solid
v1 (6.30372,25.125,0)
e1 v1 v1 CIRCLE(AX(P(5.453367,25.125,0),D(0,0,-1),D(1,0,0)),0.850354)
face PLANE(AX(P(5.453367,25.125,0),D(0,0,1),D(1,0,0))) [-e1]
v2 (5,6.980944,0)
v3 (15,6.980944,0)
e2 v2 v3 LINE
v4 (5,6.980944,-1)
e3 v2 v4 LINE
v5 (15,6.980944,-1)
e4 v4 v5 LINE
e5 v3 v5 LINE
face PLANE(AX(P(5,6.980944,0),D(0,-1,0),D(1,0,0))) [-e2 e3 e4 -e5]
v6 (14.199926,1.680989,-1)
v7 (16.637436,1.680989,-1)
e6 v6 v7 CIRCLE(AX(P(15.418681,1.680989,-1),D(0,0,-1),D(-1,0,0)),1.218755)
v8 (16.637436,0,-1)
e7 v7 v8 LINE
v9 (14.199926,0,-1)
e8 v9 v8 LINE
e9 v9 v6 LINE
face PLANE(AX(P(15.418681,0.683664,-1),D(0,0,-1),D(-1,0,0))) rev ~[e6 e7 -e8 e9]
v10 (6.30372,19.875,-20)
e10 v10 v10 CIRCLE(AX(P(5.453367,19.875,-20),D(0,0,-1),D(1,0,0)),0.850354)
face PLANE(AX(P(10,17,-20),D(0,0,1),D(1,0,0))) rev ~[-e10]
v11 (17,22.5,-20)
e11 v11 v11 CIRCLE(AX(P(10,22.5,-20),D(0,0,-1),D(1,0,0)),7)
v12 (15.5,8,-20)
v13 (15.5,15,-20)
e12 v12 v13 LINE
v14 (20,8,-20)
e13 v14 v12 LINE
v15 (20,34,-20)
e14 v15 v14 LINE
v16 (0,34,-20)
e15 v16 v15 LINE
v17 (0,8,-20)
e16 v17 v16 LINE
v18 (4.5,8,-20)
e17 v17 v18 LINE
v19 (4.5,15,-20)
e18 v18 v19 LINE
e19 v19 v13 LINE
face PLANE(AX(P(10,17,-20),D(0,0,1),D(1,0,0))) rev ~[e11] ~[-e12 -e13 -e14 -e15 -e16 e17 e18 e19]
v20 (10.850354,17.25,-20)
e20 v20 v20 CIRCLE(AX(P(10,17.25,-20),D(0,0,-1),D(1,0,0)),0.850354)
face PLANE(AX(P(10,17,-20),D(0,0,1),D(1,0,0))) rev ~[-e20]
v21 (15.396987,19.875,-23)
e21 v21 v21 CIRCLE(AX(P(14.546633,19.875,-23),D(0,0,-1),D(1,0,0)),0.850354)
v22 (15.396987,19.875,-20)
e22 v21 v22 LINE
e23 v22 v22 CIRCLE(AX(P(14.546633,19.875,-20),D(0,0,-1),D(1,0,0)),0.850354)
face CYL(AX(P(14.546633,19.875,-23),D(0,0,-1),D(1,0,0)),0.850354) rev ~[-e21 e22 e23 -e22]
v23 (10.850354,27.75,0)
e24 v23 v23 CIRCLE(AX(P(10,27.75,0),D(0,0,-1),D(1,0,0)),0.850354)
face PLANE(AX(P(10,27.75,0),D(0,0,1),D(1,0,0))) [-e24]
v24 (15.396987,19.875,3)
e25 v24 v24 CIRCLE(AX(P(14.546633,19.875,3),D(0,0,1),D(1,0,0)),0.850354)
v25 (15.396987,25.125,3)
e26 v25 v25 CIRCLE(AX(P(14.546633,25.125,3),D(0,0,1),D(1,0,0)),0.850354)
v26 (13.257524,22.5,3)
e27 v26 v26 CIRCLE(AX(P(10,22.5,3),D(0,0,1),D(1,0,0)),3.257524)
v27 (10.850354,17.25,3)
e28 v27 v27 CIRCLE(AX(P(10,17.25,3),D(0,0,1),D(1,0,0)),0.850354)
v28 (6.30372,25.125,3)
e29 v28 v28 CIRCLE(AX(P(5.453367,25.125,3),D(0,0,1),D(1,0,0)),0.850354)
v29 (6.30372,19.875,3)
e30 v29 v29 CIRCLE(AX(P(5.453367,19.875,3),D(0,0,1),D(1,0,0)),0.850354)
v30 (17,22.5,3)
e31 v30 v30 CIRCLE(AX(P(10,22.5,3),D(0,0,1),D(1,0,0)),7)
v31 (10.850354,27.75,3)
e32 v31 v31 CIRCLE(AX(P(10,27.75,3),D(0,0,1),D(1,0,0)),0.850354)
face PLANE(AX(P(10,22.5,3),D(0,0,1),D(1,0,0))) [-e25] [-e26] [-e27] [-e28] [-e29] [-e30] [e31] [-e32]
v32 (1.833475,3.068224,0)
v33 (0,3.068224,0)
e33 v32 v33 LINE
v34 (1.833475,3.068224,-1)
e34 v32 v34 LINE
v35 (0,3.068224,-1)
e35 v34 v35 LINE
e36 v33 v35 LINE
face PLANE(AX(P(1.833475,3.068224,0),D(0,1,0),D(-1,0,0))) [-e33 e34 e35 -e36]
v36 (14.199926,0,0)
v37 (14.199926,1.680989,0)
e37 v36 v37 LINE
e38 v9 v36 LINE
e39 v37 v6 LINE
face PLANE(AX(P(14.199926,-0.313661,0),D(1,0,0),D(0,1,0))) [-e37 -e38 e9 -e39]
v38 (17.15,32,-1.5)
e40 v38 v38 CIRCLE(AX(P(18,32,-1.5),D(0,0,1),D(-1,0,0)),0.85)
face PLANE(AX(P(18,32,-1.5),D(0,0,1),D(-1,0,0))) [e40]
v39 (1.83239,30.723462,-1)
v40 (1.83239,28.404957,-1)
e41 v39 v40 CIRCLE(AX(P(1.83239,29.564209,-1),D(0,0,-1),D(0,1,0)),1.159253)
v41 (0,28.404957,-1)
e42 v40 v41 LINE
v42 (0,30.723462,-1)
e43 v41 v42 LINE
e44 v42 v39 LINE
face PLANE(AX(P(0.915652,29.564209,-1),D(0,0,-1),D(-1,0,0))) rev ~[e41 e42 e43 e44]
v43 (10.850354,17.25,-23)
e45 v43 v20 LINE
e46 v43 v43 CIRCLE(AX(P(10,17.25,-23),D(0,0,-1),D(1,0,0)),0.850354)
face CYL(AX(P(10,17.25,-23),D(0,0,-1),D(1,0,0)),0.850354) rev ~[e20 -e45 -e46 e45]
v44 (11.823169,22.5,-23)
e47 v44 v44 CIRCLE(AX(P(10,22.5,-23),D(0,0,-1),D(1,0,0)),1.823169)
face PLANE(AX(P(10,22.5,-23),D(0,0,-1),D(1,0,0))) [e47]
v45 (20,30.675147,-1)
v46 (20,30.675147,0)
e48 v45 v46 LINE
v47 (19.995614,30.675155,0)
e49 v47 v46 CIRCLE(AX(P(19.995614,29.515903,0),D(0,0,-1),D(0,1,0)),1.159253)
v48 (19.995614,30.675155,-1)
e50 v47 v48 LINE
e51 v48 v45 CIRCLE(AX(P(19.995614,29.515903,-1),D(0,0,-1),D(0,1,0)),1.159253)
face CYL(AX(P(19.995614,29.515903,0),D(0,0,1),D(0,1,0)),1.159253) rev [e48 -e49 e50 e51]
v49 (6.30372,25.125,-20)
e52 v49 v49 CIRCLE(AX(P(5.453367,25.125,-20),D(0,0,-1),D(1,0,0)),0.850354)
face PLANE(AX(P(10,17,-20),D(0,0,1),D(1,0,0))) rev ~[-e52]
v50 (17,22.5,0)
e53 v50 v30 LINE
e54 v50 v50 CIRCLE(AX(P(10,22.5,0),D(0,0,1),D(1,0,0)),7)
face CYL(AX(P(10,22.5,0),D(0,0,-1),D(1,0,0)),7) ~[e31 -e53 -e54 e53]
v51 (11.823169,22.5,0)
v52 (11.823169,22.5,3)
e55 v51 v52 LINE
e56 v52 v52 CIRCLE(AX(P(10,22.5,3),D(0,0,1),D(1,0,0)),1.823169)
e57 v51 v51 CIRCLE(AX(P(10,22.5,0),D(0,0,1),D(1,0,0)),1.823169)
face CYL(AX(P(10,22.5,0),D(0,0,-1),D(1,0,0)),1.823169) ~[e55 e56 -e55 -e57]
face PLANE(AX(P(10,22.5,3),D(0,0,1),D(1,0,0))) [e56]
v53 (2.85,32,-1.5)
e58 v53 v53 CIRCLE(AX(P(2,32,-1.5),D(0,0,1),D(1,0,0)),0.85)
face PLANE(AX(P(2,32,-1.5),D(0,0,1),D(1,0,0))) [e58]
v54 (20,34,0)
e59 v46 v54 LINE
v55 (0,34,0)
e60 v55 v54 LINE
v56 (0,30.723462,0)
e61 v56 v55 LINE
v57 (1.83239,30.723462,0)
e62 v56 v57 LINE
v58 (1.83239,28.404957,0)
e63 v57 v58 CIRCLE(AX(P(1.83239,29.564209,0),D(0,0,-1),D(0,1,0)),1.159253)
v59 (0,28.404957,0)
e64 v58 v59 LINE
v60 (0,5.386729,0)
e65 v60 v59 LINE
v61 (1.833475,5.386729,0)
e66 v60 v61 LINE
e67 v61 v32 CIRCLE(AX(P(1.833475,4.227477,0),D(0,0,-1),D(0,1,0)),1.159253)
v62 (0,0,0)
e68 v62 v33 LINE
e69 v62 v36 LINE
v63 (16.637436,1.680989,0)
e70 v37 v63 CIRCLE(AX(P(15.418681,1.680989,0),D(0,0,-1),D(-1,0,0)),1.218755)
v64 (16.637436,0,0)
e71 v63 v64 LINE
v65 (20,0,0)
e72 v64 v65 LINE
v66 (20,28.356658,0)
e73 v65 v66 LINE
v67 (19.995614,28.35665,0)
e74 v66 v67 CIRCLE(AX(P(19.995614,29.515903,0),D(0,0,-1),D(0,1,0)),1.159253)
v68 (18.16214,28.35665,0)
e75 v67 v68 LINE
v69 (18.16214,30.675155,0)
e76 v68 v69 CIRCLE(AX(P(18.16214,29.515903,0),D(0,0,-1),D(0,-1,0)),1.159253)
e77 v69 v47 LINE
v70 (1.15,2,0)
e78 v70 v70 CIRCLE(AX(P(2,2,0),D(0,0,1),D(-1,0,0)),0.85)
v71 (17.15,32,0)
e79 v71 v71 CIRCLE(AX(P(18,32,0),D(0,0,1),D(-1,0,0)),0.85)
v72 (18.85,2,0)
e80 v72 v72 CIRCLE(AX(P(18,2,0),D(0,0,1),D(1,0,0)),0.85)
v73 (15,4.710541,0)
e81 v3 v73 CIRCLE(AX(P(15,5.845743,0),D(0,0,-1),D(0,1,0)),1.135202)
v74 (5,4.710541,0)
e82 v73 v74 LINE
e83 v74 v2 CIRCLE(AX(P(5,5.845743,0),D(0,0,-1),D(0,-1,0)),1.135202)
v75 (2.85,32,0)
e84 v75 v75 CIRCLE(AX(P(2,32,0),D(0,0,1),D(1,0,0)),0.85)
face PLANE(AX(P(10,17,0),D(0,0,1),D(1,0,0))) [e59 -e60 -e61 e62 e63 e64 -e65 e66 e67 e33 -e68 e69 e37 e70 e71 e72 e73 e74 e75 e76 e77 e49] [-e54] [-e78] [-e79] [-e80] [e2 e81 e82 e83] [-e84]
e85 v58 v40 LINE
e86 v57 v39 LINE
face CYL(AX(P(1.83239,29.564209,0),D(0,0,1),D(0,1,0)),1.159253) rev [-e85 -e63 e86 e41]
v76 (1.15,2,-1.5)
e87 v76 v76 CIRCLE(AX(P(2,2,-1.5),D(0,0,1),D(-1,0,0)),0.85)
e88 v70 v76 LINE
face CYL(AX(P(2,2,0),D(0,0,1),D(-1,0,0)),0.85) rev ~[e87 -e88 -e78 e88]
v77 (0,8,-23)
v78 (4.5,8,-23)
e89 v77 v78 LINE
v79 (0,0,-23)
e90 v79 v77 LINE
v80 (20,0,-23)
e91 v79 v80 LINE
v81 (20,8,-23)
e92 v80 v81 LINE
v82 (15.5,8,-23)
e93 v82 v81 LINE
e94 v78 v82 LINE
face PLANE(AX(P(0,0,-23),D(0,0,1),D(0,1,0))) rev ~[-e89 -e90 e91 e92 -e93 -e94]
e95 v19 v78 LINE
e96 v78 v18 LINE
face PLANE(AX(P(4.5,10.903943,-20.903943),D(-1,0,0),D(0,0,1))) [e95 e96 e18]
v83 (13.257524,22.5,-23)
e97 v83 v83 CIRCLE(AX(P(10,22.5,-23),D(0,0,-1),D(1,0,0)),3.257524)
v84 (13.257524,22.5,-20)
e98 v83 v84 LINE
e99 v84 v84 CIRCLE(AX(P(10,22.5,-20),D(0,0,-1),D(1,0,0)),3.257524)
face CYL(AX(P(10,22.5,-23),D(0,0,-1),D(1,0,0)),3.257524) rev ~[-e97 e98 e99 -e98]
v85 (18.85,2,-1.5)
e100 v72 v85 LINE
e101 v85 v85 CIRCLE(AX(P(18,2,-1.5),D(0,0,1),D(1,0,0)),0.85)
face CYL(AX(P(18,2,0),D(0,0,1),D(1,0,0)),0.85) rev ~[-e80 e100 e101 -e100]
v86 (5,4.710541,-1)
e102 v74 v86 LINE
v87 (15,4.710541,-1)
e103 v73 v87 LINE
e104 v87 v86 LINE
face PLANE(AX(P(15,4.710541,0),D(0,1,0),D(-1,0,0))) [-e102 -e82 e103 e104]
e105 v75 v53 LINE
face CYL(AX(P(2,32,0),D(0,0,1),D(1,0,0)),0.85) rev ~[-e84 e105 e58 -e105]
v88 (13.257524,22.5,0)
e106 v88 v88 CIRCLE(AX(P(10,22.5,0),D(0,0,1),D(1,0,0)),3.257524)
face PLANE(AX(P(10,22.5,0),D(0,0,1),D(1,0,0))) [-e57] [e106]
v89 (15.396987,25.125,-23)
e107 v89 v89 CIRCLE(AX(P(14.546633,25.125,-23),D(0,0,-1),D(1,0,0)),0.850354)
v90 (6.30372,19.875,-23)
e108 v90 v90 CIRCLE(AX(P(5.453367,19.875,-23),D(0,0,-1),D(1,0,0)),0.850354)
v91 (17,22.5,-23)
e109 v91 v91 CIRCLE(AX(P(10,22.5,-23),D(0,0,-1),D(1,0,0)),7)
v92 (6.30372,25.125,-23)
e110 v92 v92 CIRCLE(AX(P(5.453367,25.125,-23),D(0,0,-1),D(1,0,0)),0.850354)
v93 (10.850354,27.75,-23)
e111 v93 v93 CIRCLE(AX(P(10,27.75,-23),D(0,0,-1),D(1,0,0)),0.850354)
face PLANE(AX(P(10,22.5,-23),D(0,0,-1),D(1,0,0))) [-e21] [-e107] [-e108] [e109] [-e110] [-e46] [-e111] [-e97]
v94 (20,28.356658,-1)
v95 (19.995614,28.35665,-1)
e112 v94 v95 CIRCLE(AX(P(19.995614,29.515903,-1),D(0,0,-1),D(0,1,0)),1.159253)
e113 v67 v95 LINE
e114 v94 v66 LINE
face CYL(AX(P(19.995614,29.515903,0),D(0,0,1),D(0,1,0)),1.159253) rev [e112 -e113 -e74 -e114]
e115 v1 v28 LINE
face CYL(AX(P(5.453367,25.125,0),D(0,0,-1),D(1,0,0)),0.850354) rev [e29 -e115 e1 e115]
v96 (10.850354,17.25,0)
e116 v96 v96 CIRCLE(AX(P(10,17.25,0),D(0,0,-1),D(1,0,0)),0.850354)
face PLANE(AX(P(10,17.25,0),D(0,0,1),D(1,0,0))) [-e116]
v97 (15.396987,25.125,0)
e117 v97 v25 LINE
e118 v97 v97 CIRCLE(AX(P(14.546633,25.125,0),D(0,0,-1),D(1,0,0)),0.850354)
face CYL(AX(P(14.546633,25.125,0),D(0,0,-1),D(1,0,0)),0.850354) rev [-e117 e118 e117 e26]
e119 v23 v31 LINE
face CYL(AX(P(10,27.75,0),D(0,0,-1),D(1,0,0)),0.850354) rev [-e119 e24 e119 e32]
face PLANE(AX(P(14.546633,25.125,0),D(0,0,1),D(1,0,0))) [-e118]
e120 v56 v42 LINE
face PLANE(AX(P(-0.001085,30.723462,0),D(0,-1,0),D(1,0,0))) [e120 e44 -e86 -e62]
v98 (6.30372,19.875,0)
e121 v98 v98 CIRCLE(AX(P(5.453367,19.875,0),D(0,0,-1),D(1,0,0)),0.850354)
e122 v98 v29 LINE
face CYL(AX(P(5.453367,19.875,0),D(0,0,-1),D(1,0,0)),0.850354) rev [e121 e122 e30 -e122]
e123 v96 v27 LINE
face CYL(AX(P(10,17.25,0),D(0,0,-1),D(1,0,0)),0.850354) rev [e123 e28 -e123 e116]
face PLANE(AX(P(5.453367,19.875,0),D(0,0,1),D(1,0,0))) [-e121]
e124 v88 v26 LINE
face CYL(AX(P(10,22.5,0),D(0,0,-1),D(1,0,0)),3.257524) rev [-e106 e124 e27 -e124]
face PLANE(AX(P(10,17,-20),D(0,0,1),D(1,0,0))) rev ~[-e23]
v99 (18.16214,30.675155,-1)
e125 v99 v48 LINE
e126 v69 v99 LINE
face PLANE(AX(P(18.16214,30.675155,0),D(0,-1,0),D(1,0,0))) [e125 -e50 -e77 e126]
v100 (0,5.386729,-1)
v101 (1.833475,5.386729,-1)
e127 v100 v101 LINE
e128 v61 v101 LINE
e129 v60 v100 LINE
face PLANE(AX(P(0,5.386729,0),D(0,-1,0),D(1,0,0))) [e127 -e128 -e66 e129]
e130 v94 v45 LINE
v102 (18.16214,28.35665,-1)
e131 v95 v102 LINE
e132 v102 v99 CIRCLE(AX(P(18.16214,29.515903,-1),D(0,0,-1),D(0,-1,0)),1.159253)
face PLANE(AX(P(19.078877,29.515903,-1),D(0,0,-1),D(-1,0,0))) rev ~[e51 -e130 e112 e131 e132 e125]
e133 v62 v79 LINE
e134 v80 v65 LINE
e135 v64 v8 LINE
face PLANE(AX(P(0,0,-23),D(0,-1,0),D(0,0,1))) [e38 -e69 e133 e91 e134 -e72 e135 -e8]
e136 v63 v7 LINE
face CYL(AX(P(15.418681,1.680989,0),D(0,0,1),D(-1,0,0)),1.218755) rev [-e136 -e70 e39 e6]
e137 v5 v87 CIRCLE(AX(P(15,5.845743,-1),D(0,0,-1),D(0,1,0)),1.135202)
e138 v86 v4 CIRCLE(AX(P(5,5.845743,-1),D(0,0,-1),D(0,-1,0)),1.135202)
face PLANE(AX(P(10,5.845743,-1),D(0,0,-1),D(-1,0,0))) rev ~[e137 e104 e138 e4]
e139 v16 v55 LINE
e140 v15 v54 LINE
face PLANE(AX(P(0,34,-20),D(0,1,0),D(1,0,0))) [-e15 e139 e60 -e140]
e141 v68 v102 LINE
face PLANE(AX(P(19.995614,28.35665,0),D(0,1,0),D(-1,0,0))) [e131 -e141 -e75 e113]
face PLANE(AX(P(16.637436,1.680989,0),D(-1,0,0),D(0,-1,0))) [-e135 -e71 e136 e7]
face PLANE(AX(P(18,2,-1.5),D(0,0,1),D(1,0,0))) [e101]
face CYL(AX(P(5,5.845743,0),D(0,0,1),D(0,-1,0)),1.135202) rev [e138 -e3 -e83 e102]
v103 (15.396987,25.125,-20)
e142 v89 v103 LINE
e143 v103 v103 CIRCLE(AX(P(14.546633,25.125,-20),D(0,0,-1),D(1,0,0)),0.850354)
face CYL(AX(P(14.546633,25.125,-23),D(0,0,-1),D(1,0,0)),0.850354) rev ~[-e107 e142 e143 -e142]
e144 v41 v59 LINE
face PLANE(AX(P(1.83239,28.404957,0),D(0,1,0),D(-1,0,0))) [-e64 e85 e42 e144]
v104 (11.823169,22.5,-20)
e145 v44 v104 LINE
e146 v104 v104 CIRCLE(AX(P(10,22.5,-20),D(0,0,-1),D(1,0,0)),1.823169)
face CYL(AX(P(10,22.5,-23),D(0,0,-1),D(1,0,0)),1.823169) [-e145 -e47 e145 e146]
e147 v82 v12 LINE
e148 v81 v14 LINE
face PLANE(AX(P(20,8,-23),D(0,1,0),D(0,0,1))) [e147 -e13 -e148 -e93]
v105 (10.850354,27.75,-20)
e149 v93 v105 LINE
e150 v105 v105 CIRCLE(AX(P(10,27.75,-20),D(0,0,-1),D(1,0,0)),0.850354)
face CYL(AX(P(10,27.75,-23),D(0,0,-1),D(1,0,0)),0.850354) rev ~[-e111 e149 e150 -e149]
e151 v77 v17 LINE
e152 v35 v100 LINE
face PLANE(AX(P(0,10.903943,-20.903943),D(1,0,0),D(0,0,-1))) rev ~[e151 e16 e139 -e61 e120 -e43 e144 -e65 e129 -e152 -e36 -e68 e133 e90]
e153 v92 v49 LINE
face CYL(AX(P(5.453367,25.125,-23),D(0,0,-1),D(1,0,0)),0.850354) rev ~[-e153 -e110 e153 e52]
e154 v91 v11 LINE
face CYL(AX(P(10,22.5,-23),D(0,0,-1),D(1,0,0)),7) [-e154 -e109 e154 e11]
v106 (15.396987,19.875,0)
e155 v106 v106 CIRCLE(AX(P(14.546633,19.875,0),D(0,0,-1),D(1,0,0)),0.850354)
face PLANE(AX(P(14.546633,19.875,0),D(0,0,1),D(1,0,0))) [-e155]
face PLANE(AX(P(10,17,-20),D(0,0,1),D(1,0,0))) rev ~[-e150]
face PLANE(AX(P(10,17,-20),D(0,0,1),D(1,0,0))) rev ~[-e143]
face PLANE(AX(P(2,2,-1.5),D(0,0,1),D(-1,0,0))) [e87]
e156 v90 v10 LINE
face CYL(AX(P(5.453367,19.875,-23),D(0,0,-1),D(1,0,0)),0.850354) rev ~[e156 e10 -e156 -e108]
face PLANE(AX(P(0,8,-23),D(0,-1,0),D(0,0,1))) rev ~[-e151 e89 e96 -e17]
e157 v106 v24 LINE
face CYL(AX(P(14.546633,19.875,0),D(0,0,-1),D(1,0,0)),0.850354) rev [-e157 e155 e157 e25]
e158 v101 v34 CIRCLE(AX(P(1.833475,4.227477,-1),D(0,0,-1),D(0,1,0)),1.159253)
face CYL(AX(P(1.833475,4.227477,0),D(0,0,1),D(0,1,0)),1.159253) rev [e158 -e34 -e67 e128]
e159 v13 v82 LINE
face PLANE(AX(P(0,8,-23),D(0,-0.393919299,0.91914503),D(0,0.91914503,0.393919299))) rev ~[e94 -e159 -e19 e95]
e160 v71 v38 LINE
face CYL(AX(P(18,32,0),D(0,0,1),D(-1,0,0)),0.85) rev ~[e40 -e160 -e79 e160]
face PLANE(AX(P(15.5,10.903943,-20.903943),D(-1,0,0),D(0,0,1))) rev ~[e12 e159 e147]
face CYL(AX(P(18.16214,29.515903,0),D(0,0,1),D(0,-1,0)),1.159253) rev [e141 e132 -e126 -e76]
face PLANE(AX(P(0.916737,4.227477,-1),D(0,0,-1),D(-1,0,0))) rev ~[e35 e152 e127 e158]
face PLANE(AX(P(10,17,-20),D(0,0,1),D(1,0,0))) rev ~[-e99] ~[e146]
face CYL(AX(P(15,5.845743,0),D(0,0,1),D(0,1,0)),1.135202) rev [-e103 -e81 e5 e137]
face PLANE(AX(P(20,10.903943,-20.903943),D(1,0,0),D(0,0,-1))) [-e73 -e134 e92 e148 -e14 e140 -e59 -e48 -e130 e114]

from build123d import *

# Parameters (mm, degrees)
SKETCH_1_R          = 7
SKETCH_1_R_2        = 0.850353778
SKETCH_1_R_3        = 3.257524386
EXTRUDE_4_DEPTH     = 3
SKETCH_1_R_4        = 1.823169144
EXTRUDE_4_2_DEPTH   = 3
SKETCH_1_9_W        = 20
SKETCH_1_9_H        = 34
EXTRUDE_5_DEPTH     = 20
SKETCH_7_R          = 0.85
CUT_EXTRUDE_1_DEPTH = 1.5
SKETCH_8_W          = 3
SKETCH_8_H          = 8
EXTRUDE_6_DEPTH     = 20
EXTRUDE_7_DEPTH     = 20
CUT_EXTRUDE_2_DEPTH = 4.5
CUT_EXTRUDE_3_DEPTH = 4.5
EXTRUDE_START       = 3
SKETCH_14_R         = 7
SKETCH_14_R_2       = 0.850353778
SKETCH_14_R_3       = 3.257524386
SKETCH_14_R_4       = 1.823169144
EXTRUDE_8_DEPTH     = 3
CUT_EXTRUDE_4_DEPTH = 1


with BuildPart() as part:
    # 草图1 → 凸台-拉伸4 (new body)
    with BuildSketch(Plane.XY):
        with Locations((10, 22.5)):
            Circle(SKETCH_1_R)
        with Locations((10, 27.75)):
            Circle(SKETCH_1_R_2, mode=Mode.SUBTRACT)
        with Locations((5.45336663, 25.125)):
            Circle(SKETCH_1_R_2, mode=Mode.SUBTRACT)
        with Locations((5.45336663, 19.875)):
            Circle(SKETCH_1_R_2, mode=Mode.SUBTRACT)
        with Locations((10, 17.25)):
            Circle(SKETCH_1_R_2, mode=Mode.SUBTRACT)
        with Locations((14.54663337, 19.875)):
            Circle(SKETCH_1_R_2, mode=Mode.SUBTRACT)
        with Locations((14.54663337, 25.125)):
            Circle(SKETCH_1_R_2, mode=Mode.SUBTRACT)
        with Locations((10, 22.5)):
            Circle(SKETCH_1_R_3, mode=Mode.SUBTRACT)
    extrude(amount=EXTRUDE_4_DEPTH)



with BuildPart() as body_2:
    # 草图1 → Extrude 4 2 (new body)
    with BuildSketch(Plane.XY):
        with Locations((10, 22.5)):
            Circle(SKETCH_1_R_4)
    extrude(amount=EXTRUDE_4_2_DEPTH)


with BuildPart() as part_1:
    add(part.part)

    add(body_2.part)  # 凸台-拉伸5 merges body 2
    # 草图1<9> → 凸台-拉伸5 (add)
    with BuildSketch(Plane.XY):
        with Locations((10, 17)):
            Rectangle(SKETCH_1_9_W, SKETCH_1_9_H)
    extrude(amount=-EXTRUDE_5_DEPTH)

    # 草图7 → 切除-拉伸1 (cut)
    with BuildSketch(Plane.XY):
        with Locations((2, 32)):
            Circle(SKETCH_7_R)
        with Locations((18, 32)):
            Circle(SKETCH_7_R)
        with Locations((18, 2)):
            Circle(SKETCH_7_R)
        with Locations((2, 2)):
            Circle(SKETCH_7_R)
    extrude(amount=-CUT_EXTRUDE_1_DEPTH, mode=Mode.SUBTRACT)

    # 草图8 → 凸台-拉伸6 (add)
    with BuildSketch(Plane.ZY):
        with Locations((-21.5, 4)):
            Rectangle(SKETCH_8_W, SKETCH_8_H)
    extrude(amount=-EXTRUDE_6_DEPTH)

    # 草图11 → 凸台-拉伸7 (add)
    with BuildSketch(Plane.ZY):
        Polygon((-23, 8), (-20, 15), (-20, 8), align=None)
    extrude(amount=-EXTRUDE_7_DEPTH)

    # 草图12 → 切除-拉伸2 (cut)
    with BuildSketch(Plane.ZY):
        Polygon((-23, 8), (-20, 8), (-20, 15), align=None)
    extrude(amount=-CUT_EXTRUDE_2_DEPTH, mode=Mode.SUBTRACT)

    # 草图13 → 切除-拉伸3 (cut)
    with BuildSketch(Plane(origin=(20, 0, 0), x_dir=(0, 0, -1), z_dir=(1, 0, 0))):
        Polygon((23, 8), (20, 8), (20, 15), align=None)
    extrude(amount=-CUT_EXTRUDE_3_DEPTH, mode=Mode.SUBTRACT)

    # 草图14 → 凸台-拉伸8 (add)
    # profile 1 of 2: a face of its own
    with BuildSketch(Plane(origin=(0, 0, -20), x_dir=(-1, 0, 0), z_dir=(0, 0, -1)).offset(EXTRUDE_START)):
        with Locations((-10, 22.5)):
            Circle(SKETCH_14_R)
        with Locations((-10, 27.75)):
            Circle(SKETCH_14_R_2, mode=Mode.SUBTRACT)
        with Locations((-14.54663337, 25.125)):
            Circle(SKETCH_14_R_2, mode=Mode.SUBTRACT)
        with Locations((-14.54663337, 19.875)):
            Circle(SKETCH_14_R_2, mode=Mode.SUBTRACT)
        with Locations((-10, 17.25)):
            Circle(SKETCH_14_R_2, mode=Mode.SUBTRACT)
        with Locations((-5.45336663, 19.875)):
            Circle(SKETCH_14_R_2, mode=Mode.SUBTRACT)
        with Locations((-5.45336663, 25.125)):
            Circle(SKETCH_14_R_2, mode=Mode.SUBTRACT)
        with Locations((-10, 22.5)):
            Circle(SKETCH_14_R_3, mode=Mode.SUBTRACT)
    # profile 2 of 2: a face of its own
    with BuildSketch(Plane(origin=(0, 0, -20), x_dir=(-1, 0, 0), z_dir=(0, 0, -1)).offset(EXTRUDE_START)):
        with Locations((-10, 22.5)):
            Circle(SKETCH_14_R_4)
    extrude(amount=-EXTRUDE_8_DEPTH)

    # 草图15 → 切除-拉伸4 (cut)
    with BuildSketch(Plane.XY):
        with BuildLine():
            Line((14.199925624, -0.313660731), (14.199925624, 1.680989497))
            ThreePointArc((14.199925624, 1.680989497), (15.418680846, 2.899744718), (16.637436067, 1.680989497))
            Line((16.637436067, 1.680989497), (16.637436067, -0.313660731))
            ThreePointArc((16.637436067, -0.313660731), (15.418680846, -1.532415952), (14.199925624, -0.313660731))
        make_face()
        with BuildLine():
            Line((0, 5.38672918), (1.833474719, 5.38672918))
            ThreePointArc((1.833474719, 5.38672918), (2.992727253, 4.227476646), (1.833474719, 3.068224113))
            Line((1.833474719, 3.068224113), (0, 3.068224113))
            ThreePointArc((0, 3.068224113), (-1.159252534, 4.227476646), (0, 5.38672918))
        make_face()
        with BuildLine():
            Line((-0.001085169, 30.723461602), (1.83238955, 30.723461602))
            ThreePointArc((1.83238955, 30.723461602), (2.991642084, 29.564209068), (1.83238955, 28.404956534))
            Line((1.83238955, 28.404956534), (-0.001085169, 28.404956534))
            ThreePointArc((-0.001085169, 28.404956534), (-1.160337702, 29.564209068), (-0.001085169, 30.723461602))
        make_face()
        with BuildLine():
            Line((18.162139599, 30.675155153), (19.995614318, 30.675155153))
            ThreePointArc((19.995614318, 30.675155153), (21.154866852, 29.515902619), (19.995614318, 28.356650085))
            Line((19.995614318, 28.356650085), (18.162139599, 28.356650085))
            ThreePointArc((18.162139599, 28.356650085), (17.002887065, 29.515902619), (18.162139599, 30.675155153))
        make_face()
        with BuildLine():
            Line((5, 6.980944231), (15, 6.980944231))
            ThreePointArc((15, 6.980944231), (16.135201548, 5.845742683), (15, 4.710541135))
            Line((15, 4.710541135), (5, 4.710541135))
            ThreePointArc((5, 4.710541135), (3.864798452, 5.845742683), (5, 6.980944231))
        make_face()
    extrude(amount=-CUT_EXTRUDE_4_DEPTH, mode=Mode.SUBTRACT)


solid = part_1.part
